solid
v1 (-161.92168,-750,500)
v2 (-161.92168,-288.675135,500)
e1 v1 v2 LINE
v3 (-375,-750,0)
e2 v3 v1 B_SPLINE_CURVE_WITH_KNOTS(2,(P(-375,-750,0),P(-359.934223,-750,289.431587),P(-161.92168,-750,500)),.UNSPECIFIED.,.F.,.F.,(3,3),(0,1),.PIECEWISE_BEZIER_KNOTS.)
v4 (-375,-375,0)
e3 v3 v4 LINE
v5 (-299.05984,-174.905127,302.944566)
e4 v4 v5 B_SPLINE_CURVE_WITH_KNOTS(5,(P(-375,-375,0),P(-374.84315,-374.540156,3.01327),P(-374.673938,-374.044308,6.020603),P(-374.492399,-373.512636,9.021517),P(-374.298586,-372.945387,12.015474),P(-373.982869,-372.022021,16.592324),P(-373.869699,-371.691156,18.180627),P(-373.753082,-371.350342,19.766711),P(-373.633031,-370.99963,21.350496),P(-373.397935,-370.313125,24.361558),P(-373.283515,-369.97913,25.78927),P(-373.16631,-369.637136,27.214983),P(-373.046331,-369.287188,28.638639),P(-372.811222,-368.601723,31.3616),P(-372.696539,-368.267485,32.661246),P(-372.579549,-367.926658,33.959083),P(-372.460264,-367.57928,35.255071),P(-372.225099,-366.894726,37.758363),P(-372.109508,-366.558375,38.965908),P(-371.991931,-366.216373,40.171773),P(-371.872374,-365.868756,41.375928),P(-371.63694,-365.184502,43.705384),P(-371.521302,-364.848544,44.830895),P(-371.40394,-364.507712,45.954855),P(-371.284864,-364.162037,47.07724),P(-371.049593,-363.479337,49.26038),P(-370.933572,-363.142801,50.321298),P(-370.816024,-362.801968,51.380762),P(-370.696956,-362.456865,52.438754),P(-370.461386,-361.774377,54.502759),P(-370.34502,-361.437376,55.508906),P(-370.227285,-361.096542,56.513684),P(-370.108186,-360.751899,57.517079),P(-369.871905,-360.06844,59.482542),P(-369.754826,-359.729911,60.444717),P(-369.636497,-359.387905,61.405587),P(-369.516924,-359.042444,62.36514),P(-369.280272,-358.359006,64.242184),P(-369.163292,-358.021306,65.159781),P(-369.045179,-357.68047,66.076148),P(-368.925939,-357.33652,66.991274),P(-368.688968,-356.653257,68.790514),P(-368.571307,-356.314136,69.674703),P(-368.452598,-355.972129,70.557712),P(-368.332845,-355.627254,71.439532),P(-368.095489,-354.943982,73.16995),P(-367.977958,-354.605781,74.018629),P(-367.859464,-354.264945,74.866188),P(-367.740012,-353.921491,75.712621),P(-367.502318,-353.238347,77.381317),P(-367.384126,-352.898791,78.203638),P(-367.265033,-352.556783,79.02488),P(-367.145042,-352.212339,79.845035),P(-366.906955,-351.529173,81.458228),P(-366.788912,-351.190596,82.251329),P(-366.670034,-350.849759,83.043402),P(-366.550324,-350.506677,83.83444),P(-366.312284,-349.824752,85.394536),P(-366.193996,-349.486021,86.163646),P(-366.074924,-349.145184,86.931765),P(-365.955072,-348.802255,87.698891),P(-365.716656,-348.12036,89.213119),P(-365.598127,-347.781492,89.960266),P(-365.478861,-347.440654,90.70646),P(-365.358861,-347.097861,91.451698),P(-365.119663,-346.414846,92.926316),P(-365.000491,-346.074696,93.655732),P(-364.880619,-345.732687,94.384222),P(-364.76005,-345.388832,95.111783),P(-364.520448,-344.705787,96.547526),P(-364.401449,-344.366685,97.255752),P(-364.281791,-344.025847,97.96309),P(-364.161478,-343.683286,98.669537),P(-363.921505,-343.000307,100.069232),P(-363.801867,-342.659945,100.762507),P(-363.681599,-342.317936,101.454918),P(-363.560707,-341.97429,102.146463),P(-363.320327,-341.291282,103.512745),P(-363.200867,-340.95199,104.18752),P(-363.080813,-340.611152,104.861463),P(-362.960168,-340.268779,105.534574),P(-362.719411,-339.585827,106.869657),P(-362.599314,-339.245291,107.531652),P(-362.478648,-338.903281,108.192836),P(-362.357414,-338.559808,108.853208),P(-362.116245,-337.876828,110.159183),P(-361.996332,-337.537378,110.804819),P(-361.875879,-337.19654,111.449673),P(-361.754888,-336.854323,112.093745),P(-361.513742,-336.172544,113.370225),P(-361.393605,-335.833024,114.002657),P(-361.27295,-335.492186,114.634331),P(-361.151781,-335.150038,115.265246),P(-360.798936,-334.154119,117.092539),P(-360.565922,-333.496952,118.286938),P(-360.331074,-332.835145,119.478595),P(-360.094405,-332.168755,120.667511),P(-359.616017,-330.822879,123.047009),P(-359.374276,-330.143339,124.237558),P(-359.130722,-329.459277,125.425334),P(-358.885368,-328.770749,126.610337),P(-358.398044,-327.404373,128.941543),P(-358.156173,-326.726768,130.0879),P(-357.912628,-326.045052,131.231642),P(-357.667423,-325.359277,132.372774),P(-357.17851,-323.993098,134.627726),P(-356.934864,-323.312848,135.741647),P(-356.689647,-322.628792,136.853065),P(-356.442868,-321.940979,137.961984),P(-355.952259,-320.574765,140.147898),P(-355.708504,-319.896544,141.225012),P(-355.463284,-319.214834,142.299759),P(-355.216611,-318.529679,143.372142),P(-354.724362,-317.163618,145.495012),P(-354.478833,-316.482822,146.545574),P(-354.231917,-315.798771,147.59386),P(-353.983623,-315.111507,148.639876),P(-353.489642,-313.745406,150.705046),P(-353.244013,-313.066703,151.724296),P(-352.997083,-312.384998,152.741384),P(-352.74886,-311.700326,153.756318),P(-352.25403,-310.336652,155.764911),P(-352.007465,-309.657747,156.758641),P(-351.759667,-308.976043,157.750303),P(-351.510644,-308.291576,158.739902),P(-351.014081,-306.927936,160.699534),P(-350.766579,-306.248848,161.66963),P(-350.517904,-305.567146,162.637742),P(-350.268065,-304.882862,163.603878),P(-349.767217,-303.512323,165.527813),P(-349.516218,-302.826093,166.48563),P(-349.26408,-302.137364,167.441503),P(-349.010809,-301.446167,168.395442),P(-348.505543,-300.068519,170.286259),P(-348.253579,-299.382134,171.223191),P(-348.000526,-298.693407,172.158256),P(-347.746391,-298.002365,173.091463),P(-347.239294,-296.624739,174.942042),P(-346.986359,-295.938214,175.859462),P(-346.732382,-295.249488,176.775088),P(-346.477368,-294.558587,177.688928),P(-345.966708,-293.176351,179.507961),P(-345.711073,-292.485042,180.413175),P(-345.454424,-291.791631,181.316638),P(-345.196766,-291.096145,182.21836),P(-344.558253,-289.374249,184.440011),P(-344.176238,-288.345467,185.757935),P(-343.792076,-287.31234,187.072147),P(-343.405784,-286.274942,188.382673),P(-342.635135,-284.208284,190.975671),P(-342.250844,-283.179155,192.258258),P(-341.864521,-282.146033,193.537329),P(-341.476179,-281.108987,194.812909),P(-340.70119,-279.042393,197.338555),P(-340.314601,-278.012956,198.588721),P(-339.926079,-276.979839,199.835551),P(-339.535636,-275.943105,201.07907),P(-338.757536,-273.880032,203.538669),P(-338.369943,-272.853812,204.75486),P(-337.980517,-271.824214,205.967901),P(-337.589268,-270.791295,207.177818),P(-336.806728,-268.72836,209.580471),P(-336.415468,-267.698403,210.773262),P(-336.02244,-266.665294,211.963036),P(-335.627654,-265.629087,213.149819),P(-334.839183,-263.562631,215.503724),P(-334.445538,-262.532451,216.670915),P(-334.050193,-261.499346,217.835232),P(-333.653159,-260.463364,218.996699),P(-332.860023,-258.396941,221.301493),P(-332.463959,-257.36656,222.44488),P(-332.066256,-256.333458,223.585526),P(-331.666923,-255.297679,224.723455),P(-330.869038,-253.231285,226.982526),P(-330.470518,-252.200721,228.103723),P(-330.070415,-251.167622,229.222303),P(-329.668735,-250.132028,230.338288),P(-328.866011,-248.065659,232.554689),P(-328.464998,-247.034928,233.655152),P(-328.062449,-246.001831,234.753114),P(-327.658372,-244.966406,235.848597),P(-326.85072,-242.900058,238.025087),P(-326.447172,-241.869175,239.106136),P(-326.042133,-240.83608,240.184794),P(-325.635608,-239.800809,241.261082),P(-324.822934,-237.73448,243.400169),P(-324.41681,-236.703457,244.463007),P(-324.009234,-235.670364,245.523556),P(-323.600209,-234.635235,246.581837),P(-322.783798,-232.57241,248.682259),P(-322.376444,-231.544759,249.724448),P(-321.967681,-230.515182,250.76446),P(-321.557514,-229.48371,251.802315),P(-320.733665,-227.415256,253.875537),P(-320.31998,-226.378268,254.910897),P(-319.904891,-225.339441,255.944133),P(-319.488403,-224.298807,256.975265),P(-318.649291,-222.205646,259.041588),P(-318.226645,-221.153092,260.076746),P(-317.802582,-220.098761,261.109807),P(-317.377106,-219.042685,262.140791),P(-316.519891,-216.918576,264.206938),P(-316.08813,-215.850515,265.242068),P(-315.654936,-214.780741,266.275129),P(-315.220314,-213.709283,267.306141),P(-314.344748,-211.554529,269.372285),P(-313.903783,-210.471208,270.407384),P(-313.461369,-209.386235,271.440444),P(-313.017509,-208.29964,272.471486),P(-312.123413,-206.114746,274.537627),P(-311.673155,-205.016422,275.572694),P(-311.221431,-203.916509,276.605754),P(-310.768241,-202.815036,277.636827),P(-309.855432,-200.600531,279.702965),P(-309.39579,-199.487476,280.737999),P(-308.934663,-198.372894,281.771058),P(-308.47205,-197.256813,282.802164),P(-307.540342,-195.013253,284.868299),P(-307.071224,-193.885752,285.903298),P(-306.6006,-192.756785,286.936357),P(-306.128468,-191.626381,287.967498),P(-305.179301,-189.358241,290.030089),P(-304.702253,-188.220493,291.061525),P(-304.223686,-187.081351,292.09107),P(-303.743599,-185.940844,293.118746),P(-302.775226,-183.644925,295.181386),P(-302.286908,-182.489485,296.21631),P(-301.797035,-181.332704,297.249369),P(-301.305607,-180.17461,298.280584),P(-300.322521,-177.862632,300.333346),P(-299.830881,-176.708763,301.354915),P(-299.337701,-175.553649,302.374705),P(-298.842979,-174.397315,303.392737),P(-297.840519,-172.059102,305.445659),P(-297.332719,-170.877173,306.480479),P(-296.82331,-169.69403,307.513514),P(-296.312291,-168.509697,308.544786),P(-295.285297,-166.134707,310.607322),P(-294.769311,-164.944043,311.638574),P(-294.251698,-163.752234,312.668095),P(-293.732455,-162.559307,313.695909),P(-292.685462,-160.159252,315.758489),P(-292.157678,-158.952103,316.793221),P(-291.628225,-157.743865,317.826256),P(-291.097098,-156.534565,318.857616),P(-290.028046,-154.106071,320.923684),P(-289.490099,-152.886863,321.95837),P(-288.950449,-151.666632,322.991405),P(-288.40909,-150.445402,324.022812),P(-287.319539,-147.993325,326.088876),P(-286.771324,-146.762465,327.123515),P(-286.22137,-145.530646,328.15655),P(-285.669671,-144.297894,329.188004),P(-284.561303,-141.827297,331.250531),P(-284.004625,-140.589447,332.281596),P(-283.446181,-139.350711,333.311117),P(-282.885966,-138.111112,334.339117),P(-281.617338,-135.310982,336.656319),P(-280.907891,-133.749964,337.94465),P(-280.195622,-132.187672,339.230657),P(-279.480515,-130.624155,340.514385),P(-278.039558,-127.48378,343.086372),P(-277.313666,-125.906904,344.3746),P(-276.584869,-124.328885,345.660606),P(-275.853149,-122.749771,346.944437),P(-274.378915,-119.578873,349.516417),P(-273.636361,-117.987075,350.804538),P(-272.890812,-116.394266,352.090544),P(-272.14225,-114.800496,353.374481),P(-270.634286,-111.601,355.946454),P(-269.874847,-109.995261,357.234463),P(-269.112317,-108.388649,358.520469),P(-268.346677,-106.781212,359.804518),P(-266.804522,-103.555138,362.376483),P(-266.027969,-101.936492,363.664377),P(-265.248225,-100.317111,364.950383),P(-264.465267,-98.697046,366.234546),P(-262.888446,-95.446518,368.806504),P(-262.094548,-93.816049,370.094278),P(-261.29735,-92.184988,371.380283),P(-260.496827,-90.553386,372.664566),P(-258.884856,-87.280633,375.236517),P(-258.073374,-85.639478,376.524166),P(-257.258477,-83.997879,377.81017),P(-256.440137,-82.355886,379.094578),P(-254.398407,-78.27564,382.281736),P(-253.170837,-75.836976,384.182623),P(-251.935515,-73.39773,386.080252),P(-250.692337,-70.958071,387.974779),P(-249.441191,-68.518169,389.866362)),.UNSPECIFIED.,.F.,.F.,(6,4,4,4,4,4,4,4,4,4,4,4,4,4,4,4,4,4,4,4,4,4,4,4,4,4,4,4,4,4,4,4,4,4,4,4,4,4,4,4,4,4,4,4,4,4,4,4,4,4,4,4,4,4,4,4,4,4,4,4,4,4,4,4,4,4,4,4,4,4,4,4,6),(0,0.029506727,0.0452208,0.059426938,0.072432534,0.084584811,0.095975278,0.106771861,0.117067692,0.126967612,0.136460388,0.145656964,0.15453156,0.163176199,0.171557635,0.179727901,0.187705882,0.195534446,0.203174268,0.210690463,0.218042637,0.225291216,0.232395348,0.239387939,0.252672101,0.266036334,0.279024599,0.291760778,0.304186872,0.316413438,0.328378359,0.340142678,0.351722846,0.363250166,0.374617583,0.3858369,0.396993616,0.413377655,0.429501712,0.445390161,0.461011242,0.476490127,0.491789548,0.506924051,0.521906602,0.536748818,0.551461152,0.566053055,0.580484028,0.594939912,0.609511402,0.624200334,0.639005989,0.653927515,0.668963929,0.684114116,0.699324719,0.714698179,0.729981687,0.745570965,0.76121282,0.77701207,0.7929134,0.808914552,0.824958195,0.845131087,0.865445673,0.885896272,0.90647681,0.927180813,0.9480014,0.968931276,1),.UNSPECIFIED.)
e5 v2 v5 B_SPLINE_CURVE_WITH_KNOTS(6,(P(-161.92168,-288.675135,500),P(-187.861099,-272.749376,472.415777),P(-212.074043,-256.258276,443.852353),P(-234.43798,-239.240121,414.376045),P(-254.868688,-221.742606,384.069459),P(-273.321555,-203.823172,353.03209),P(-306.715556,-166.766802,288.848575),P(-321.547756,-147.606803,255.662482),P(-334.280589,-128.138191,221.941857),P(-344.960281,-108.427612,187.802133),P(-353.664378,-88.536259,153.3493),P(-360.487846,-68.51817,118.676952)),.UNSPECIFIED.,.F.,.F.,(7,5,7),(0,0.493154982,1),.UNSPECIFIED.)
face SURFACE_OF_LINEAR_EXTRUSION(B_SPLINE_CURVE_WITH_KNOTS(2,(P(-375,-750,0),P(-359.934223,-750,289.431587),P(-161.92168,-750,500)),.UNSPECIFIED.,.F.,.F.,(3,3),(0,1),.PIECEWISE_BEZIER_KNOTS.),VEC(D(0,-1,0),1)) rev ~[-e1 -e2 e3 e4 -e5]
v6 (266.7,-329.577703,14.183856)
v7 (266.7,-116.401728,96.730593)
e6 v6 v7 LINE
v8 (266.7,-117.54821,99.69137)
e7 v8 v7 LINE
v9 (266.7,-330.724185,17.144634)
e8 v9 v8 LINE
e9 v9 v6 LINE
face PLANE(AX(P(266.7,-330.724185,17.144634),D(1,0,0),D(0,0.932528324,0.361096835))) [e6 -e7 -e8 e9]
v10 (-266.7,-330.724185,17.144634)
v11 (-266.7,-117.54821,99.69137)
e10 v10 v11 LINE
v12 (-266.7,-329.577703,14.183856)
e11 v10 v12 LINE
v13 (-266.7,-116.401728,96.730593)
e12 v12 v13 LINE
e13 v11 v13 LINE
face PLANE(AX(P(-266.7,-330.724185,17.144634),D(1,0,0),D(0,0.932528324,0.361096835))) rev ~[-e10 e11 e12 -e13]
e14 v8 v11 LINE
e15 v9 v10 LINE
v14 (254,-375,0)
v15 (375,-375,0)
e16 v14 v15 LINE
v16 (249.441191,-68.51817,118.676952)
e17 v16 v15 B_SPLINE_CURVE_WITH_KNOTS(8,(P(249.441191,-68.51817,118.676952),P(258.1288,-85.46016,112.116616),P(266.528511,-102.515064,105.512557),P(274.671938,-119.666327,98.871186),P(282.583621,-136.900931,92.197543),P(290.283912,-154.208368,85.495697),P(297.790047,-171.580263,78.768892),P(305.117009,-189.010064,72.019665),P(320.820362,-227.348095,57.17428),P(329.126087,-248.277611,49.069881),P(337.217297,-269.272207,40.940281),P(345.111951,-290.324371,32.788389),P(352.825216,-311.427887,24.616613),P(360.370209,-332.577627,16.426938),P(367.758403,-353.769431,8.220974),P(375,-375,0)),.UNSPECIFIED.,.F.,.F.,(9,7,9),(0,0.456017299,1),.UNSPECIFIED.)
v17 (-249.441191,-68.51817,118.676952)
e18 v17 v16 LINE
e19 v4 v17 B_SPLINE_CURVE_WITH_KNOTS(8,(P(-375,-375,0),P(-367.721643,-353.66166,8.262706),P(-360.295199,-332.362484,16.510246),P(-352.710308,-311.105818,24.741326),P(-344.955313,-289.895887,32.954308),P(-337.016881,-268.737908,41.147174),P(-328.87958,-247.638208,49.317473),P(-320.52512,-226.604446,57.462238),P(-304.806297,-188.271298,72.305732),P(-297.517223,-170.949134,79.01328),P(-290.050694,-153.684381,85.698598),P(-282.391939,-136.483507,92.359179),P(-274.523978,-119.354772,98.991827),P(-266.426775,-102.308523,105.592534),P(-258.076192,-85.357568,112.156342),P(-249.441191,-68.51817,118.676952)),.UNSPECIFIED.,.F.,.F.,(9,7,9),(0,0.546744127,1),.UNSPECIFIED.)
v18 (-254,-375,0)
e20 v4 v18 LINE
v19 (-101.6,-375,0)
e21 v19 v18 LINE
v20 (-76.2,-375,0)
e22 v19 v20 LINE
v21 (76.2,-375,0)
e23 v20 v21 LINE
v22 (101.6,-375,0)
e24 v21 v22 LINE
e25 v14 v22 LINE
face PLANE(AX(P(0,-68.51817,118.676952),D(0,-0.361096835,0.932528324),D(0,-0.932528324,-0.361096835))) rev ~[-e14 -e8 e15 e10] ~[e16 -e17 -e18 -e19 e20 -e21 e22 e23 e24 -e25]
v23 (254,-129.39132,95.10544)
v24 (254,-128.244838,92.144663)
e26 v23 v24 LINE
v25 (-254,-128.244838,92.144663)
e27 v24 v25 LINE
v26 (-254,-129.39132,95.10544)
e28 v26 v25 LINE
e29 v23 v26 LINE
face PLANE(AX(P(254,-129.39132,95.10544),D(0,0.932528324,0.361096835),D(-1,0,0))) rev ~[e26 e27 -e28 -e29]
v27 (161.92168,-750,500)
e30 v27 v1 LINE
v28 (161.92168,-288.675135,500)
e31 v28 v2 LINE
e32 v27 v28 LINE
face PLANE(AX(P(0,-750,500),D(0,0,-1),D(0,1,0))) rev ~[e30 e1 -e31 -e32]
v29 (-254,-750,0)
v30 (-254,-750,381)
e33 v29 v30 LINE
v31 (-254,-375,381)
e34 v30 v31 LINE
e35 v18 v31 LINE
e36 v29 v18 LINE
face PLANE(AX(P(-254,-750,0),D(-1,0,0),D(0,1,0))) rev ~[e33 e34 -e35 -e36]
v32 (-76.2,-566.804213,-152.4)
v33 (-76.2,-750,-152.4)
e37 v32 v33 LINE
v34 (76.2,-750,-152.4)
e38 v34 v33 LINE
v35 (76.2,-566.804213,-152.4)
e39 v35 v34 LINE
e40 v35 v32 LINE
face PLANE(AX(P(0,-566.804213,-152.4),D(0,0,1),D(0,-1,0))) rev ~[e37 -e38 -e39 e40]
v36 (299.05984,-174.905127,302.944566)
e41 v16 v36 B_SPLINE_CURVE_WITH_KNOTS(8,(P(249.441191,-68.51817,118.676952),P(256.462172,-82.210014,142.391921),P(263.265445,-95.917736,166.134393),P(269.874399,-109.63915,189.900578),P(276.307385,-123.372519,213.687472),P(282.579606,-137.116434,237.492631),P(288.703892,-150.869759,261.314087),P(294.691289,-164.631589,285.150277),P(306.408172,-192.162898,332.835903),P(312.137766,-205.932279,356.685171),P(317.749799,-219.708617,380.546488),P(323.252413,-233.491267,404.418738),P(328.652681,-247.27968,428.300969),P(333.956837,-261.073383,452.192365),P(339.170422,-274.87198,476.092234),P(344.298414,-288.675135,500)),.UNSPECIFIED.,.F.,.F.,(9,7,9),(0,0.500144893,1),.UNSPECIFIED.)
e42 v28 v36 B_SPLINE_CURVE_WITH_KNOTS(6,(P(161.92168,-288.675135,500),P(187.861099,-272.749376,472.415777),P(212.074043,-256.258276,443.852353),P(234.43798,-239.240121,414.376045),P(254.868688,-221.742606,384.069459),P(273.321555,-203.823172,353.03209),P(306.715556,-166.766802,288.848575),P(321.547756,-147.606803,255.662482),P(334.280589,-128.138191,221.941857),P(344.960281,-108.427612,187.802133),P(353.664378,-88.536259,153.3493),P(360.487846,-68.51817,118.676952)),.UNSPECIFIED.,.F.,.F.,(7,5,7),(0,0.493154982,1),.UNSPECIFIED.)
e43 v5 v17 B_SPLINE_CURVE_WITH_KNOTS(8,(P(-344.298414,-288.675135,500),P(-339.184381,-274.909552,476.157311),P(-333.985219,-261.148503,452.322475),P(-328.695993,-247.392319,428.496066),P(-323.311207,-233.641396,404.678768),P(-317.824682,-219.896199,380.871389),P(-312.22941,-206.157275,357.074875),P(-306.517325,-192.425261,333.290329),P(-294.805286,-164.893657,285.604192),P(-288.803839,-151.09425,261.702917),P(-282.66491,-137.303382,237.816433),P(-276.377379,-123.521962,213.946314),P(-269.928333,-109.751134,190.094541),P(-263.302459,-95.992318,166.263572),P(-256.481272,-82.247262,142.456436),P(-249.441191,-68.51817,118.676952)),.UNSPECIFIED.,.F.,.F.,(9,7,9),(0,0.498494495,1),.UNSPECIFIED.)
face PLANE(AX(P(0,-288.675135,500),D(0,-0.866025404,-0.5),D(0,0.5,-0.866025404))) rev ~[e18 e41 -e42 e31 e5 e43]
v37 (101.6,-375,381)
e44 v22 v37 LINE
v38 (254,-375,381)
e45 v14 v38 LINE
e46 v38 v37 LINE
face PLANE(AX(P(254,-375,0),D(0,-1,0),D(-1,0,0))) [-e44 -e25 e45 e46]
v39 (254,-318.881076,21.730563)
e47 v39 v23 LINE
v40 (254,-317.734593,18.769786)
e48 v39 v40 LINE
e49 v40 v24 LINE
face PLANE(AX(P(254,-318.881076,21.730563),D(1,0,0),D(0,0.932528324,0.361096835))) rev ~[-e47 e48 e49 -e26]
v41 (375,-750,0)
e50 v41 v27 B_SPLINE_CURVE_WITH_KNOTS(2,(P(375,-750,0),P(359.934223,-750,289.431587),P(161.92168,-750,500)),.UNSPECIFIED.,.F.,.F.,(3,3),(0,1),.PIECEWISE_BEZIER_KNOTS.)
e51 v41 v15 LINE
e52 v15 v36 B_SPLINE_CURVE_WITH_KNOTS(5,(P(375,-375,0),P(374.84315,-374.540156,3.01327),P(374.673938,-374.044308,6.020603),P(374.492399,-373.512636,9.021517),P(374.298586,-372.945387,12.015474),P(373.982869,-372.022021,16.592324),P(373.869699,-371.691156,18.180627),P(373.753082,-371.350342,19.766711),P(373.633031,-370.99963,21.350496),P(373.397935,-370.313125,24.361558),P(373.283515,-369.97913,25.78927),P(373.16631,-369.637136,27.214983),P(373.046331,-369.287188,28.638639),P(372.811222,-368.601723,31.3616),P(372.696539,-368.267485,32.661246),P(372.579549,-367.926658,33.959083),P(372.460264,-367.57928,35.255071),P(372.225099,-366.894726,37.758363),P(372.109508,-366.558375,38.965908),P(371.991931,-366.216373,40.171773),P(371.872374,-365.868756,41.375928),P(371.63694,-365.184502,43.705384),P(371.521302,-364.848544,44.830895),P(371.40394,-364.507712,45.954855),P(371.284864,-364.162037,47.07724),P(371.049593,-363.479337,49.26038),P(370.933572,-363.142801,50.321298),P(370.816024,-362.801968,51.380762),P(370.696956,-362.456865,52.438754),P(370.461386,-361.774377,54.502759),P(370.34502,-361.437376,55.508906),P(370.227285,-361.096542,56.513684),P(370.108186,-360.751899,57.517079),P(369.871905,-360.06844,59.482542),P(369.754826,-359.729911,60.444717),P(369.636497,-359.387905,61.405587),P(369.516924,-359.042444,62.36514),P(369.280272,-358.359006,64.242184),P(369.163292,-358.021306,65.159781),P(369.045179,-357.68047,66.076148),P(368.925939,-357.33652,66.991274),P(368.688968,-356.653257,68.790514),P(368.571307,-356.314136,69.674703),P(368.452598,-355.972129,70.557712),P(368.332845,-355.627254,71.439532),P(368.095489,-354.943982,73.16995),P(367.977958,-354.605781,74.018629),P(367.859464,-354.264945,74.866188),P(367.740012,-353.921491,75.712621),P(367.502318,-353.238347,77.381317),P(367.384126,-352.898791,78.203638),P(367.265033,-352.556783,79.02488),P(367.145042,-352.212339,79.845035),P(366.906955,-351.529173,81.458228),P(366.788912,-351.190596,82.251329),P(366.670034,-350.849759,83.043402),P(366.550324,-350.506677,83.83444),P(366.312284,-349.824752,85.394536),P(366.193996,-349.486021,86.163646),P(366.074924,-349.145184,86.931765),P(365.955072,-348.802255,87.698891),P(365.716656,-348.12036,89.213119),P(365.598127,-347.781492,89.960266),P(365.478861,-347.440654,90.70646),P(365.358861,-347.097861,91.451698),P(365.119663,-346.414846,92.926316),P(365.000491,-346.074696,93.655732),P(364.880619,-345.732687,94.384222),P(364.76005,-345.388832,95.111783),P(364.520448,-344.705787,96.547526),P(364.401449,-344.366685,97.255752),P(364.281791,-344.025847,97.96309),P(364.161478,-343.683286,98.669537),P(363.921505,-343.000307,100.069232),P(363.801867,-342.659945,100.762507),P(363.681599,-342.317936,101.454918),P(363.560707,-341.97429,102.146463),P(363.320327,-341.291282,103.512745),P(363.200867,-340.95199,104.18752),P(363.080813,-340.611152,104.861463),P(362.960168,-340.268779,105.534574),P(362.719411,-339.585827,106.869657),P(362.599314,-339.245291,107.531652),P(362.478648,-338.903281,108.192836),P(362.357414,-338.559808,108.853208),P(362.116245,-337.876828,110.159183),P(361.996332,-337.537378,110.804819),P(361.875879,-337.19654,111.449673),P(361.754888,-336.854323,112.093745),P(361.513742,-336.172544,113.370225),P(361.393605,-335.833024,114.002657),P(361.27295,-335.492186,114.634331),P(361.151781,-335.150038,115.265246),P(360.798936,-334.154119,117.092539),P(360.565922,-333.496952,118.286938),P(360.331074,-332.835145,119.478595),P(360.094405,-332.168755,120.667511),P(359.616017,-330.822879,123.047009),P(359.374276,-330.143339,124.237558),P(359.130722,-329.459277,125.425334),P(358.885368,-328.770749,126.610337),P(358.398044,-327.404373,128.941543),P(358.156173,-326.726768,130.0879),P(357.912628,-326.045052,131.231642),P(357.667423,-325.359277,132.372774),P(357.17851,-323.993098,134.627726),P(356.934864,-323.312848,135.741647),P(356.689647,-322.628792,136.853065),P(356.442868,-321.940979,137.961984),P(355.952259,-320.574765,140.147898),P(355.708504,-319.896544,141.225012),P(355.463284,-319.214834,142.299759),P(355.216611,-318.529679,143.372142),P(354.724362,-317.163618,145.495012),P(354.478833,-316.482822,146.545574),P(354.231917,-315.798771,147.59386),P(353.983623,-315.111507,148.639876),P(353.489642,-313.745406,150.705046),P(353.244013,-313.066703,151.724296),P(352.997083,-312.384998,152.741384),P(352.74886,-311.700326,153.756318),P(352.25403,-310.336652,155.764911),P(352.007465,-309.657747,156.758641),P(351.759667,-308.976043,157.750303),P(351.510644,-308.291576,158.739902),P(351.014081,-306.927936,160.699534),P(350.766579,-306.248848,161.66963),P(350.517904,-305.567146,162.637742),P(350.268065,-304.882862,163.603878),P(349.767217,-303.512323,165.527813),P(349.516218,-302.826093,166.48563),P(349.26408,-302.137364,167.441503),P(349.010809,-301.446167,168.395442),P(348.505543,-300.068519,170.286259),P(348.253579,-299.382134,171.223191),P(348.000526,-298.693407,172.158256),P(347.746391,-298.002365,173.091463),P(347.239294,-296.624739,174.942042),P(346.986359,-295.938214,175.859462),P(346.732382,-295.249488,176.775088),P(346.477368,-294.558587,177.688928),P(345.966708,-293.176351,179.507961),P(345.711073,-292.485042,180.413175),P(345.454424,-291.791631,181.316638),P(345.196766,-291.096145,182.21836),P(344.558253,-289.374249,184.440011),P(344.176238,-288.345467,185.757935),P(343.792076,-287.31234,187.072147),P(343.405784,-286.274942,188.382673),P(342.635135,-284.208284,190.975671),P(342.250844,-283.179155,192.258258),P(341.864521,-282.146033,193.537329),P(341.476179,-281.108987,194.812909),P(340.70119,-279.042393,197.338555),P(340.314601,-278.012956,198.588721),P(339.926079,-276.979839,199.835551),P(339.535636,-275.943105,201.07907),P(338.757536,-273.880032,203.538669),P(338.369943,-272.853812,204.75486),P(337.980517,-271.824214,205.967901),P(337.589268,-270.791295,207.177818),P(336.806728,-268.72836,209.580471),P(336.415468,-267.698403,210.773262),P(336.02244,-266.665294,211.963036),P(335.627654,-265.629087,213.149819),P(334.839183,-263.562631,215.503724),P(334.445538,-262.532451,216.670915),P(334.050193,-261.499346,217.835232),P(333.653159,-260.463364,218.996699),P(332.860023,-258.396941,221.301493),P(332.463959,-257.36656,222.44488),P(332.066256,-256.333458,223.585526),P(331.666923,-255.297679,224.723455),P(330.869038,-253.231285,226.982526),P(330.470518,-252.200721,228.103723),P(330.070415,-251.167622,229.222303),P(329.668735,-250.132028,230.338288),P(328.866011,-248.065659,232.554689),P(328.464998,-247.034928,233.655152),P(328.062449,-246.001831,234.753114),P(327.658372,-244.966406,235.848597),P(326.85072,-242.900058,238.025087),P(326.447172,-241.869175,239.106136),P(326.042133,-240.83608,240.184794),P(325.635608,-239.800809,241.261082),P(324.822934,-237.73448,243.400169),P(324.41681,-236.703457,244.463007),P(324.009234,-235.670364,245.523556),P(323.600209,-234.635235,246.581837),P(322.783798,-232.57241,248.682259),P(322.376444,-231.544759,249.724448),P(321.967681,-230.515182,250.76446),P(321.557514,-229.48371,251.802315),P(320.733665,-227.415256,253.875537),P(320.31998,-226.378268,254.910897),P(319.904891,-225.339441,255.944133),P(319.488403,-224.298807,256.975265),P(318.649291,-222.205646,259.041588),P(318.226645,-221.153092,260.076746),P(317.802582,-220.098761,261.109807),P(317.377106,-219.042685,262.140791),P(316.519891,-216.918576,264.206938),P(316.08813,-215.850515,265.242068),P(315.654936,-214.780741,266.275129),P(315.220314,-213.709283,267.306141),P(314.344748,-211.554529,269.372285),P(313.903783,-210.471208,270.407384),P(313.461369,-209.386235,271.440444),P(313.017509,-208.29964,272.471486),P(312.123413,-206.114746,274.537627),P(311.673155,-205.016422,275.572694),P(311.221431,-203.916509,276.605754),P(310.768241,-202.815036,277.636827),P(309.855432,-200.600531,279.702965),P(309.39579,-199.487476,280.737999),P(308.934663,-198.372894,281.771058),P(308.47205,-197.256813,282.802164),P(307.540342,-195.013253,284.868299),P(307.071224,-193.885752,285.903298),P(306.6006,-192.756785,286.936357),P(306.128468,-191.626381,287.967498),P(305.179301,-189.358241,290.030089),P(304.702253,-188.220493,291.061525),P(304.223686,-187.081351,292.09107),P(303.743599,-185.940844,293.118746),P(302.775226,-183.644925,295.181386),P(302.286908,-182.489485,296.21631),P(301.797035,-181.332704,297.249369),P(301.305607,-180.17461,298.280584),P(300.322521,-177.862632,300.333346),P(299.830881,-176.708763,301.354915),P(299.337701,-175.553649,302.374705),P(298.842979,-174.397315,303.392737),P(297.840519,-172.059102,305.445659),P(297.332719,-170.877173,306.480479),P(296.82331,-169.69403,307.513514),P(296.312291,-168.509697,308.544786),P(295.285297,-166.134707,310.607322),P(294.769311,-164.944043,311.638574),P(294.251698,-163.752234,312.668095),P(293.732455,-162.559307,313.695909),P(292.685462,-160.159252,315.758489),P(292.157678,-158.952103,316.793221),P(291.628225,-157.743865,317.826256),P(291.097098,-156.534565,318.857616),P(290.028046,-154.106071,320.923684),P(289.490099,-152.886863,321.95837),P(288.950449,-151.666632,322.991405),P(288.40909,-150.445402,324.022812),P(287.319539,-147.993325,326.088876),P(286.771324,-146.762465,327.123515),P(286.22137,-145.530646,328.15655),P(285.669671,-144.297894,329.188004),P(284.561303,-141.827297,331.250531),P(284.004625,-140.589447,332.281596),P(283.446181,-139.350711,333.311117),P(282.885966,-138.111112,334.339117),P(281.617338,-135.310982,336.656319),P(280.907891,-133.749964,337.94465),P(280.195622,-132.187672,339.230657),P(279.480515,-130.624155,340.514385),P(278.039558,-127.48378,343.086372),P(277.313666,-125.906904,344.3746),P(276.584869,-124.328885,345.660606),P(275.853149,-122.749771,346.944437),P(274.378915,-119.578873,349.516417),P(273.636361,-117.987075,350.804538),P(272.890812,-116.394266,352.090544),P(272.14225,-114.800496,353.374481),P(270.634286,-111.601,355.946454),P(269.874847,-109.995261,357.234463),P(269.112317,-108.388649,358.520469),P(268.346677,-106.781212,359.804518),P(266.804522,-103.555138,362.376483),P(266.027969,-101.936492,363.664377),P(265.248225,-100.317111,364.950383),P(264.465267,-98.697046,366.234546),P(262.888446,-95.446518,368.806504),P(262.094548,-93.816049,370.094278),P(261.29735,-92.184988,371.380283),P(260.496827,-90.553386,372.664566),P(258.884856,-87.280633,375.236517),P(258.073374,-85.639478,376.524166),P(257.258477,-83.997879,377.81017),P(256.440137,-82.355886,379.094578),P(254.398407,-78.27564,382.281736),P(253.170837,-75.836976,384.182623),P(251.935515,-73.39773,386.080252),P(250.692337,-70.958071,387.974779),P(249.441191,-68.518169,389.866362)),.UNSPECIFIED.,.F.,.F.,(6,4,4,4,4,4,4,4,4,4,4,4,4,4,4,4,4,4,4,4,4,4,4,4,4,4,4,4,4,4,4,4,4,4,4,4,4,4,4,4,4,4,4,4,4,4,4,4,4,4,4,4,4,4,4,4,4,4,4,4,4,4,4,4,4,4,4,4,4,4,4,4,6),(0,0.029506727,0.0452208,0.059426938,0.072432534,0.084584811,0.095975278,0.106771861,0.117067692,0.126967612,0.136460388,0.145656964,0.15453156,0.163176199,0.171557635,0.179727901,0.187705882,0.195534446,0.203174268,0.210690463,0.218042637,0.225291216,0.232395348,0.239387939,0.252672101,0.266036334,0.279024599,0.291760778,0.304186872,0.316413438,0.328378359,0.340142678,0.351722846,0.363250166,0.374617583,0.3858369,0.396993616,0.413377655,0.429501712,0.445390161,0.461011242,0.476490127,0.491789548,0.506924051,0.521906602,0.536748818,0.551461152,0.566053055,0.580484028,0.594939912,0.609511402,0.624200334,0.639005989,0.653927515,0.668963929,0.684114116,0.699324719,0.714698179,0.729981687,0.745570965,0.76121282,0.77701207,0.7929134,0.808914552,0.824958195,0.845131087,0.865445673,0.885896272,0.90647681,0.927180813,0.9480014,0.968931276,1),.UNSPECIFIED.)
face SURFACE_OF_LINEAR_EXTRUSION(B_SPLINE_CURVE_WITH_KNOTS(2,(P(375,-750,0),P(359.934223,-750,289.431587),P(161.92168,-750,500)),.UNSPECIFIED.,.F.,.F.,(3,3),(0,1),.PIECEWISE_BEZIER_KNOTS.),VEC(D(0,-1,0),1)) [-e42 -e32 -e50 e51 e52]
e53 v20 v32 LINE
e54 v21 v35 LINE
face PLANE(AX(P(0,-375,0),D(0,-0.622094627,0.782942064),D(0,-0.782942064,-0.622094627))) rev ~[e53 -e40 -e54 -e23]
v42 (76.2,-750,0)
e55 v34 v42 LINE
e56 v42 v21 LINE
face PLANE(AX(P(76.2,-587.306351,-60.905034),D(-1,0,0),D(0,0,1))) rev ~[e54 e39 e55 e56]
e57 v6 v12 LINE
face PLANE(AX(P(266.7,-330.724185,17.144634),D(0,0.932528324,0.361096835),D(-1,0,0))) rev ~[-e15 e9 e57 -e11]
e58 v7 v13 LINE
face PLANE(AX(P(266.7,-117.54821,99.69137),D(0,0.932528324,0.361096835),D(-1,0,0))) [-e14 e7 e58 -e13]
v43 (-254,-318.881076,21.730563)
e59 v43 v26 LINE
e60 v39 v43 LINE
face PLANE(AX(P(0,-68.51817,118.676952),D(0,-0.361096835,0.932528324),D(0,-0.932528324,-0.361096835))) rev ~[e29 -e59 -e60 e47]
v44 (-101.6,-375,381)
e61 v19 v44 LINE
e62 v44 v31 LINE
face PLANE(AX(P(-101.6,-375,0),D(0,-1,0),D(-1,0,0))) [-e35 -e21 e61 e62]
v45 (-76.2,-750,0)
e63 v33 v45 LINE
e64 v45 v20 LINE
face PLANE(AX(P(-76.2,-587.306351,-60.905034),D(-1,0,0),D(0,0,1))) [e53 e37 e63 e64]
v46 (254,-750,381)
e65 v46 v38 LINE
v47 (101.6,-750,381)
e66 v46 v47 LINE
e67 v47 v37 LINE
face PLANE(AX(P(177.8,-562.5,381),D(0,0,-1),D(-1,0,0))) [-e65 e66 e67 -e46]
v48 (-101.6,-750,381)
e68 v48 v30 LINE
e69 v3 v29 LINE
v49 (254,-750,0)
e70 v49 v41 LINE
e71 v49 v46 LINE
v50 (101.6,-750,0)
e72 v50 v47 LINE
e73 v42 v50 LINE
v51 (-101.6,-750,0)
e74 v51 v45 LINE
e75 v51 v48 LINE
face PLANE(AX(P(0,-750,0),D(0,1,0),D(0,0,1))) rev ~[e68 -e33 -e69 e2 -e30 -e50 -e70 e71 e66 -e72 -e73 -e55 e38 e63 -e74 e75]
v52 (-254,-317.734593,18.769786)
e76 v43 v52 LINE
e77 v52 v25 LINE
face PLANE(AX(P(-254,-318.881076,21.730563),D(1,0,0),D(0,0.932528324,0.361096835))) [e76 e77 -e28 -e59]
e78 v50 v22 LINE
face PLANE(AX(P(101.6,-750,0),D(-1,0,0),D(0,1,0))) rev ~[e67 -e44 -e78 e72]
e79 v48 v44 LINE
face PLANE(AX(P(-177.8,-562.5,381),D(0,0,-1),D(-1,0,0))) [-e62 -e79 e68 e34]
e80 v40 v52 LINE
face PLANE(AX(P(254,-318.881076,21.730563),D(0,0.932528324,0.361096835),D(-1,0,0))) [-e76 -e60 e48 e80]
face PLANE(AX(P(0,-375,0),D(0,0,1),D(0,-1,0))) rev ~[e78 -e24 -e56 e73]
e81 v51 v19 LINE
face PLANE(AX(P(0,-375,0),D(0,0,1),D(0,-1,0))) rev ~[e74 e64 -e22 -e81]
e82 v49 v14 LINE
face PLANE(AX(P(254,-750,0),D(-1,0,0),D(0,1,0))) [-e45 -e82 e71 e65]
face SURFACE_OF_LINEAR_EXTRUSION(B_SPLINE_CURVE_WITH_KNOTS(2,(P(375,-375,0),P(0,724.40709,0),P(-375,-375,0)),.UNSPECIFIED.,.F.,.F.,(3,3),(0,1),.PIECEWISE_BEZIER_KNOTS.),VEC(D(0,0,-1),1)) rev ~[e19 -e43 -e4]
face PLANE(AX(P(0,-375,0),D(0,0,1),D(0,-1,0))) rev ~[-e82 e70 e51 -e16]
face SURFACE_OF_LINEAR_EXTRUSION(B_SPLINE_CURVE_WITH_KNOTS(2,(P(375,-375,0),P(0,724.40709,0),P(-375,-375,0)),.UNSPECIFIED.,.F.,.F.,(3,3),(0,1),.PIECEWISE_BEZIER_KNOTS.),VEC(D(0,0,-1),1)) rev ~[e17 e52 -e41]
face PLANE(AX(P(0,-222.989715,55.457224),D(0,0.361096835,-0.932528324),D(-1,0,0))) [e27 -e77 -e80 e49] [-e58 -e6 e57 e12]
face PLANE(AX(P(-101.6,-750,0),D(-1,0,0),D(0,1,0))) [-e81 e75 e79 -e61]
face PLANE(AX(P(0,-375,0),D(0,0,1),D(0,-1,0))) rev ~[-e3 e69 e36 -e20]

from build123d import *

# Parameters (mm, degrees)
BOSS_EXTRUDE1_DEPTH = 500
CUT_EXTRUDE1_DEPTH  = 1000
CUT_EXTRUDE2_DEPTH  = 1000
SKETCH5_W           = 533.4
SKETCH5_H           = 228.6
SKETCH5_W_2         = 508
SKETCH5_H_2         = 203.2
BOSS_EXTRUDE2_DEPTH = 3.175
SKETCH6_W           = 152.4
SKETCH6_H           = 375
CUT_EXTRUDE4_DEPTH  = 381
BOSS_EXTRUDE4_DEPTH = 76.2


with BuildPart() as part:
    # Sketch2 → Boss-Extrude1 (new, symmetric)
    with BuildSketch(Plane(origin=(0, 0, 0), x_dir=(0, 0, -1), z_dir=(1, 0, 0))):
        Polygon((0, -750), (-500, -750), (-500, -288.675134595), (-118.676951522, -68.518169908), (0, -375), align=None)
    extrude(amount=BOSS_EXTRUDE1_DEPTH, both=True)

    # Sketch3 → Cut-Extrude1 (cut)
    with BuildSketch(Plane.XZ.offset(750)):
        with BuildLine():
            Line((-161.921680379, 500), (-500, 500))
            Line((-500, 500), (-500, 0))
            Line((-500, 0), (-375, 0))
            add(Edge.make_bspline(
                [(-375, 0), (-359.934223317, 289.431587022), (-161.921680379, 500)],
                knots=[0, 0, 0, 1, 1, 1], degree=2))
        make_face()
        with BuildLine():
            Line((500, 0), (500, 500))
            Line((500, 500), (161.921680379, 500))
            add(Edge.make_bspline(
                [(375, 0), (359.934223317, 289.431587022), (161.921680379, 500)],
                knots=[0, 0, 0, 1, 1, 1], degree=2))
            Line((375, 0), (500, 0))
        make_face()
    extrude(amount=-CUT_EXTRUDE1_DEPTH, mode=Mode.SUBTRACT)

    # Sketch4 → Cut-Extrude2 (cut)
    with BuildSketch(Plane(origin=(0, 0, 0), x_dir=(-1, 0, 0), z_dir=(0, 0, -1))):
        with BuildLine():
            Line((-375, -375), (-996.294304176, -375))
            Line((-996.294304176, -375), (-996.294304176, 371.909901341))
            Line((-996.294304176, 371.909901341), (846.489564783, 371.909901341))
            Line((846.489564783, 371.909901341), (846.489564783, -375))
            Line((846.489564783, -375), (375, -375))
            add(Edge.make_bspline(
                [(-375, -375), (0, 724.407090278), (375, -375)],
                knots=[0, 0, 0, 1, 1, 1], degree=2))
        make_face()
    extrude(amount=-CUT_EXTRUDE2_DEPTH, mode=Mode.SUBTRACT)

    # Sketch5 → Boss-Extrude2 (add)
    with BuildSketch(Plane(origin=(0, -48.896596526, 126.274884856), x_dir=(-1, 0, 0), z_dir=(0, 0.36109683475385423, -0.9325283244656689))):
        with Locations((0, -187.918797542)):
            Rectangle(SKETCH5_W, SKETCH5_H)
        with Locations((0, -187.918797542)):
            Rectangle(SKETCH5_W_2, SKETCH5_H_2, mode=Mode.SUBTRACT)
    extrude(amount=BOSS_EXTRUDE2_DEPTH)

    # Sketch6 → Cut-Extrude4 (cut)
    with BuildSketch(Plane(origin=(0, 0, 0), x_dir=(-1, 0, 0), z_dir=(0, 0, -1))):
        with Locations((-177.8, -562.5)):
            Rectangle(SKETCH6_W, SKETCH6_H)
        with Locations((177.8, -562.5)):
            Rectangle(SKETCH6_W, SKETCH6_H)
    extrude(amount=-CUT_EXTRUDE4_DEPTH, mode=Mode.SUBTRACT)

    # Sketch7 → Boss-Extrude4 (add, symmetric)
    with BuildSketch(Plane(origin=(0, 0, 0), x_dir=(0, 0, -1), z_dir=(1, 0, 0))):
        Polygon((0, -375), (152.4, -566.804213416), (152.4, -750), (0, -750), align=None)
    extrude(amount=BOSS_EXTRUDE4_DEPTH, both=True)


solid = part.part
